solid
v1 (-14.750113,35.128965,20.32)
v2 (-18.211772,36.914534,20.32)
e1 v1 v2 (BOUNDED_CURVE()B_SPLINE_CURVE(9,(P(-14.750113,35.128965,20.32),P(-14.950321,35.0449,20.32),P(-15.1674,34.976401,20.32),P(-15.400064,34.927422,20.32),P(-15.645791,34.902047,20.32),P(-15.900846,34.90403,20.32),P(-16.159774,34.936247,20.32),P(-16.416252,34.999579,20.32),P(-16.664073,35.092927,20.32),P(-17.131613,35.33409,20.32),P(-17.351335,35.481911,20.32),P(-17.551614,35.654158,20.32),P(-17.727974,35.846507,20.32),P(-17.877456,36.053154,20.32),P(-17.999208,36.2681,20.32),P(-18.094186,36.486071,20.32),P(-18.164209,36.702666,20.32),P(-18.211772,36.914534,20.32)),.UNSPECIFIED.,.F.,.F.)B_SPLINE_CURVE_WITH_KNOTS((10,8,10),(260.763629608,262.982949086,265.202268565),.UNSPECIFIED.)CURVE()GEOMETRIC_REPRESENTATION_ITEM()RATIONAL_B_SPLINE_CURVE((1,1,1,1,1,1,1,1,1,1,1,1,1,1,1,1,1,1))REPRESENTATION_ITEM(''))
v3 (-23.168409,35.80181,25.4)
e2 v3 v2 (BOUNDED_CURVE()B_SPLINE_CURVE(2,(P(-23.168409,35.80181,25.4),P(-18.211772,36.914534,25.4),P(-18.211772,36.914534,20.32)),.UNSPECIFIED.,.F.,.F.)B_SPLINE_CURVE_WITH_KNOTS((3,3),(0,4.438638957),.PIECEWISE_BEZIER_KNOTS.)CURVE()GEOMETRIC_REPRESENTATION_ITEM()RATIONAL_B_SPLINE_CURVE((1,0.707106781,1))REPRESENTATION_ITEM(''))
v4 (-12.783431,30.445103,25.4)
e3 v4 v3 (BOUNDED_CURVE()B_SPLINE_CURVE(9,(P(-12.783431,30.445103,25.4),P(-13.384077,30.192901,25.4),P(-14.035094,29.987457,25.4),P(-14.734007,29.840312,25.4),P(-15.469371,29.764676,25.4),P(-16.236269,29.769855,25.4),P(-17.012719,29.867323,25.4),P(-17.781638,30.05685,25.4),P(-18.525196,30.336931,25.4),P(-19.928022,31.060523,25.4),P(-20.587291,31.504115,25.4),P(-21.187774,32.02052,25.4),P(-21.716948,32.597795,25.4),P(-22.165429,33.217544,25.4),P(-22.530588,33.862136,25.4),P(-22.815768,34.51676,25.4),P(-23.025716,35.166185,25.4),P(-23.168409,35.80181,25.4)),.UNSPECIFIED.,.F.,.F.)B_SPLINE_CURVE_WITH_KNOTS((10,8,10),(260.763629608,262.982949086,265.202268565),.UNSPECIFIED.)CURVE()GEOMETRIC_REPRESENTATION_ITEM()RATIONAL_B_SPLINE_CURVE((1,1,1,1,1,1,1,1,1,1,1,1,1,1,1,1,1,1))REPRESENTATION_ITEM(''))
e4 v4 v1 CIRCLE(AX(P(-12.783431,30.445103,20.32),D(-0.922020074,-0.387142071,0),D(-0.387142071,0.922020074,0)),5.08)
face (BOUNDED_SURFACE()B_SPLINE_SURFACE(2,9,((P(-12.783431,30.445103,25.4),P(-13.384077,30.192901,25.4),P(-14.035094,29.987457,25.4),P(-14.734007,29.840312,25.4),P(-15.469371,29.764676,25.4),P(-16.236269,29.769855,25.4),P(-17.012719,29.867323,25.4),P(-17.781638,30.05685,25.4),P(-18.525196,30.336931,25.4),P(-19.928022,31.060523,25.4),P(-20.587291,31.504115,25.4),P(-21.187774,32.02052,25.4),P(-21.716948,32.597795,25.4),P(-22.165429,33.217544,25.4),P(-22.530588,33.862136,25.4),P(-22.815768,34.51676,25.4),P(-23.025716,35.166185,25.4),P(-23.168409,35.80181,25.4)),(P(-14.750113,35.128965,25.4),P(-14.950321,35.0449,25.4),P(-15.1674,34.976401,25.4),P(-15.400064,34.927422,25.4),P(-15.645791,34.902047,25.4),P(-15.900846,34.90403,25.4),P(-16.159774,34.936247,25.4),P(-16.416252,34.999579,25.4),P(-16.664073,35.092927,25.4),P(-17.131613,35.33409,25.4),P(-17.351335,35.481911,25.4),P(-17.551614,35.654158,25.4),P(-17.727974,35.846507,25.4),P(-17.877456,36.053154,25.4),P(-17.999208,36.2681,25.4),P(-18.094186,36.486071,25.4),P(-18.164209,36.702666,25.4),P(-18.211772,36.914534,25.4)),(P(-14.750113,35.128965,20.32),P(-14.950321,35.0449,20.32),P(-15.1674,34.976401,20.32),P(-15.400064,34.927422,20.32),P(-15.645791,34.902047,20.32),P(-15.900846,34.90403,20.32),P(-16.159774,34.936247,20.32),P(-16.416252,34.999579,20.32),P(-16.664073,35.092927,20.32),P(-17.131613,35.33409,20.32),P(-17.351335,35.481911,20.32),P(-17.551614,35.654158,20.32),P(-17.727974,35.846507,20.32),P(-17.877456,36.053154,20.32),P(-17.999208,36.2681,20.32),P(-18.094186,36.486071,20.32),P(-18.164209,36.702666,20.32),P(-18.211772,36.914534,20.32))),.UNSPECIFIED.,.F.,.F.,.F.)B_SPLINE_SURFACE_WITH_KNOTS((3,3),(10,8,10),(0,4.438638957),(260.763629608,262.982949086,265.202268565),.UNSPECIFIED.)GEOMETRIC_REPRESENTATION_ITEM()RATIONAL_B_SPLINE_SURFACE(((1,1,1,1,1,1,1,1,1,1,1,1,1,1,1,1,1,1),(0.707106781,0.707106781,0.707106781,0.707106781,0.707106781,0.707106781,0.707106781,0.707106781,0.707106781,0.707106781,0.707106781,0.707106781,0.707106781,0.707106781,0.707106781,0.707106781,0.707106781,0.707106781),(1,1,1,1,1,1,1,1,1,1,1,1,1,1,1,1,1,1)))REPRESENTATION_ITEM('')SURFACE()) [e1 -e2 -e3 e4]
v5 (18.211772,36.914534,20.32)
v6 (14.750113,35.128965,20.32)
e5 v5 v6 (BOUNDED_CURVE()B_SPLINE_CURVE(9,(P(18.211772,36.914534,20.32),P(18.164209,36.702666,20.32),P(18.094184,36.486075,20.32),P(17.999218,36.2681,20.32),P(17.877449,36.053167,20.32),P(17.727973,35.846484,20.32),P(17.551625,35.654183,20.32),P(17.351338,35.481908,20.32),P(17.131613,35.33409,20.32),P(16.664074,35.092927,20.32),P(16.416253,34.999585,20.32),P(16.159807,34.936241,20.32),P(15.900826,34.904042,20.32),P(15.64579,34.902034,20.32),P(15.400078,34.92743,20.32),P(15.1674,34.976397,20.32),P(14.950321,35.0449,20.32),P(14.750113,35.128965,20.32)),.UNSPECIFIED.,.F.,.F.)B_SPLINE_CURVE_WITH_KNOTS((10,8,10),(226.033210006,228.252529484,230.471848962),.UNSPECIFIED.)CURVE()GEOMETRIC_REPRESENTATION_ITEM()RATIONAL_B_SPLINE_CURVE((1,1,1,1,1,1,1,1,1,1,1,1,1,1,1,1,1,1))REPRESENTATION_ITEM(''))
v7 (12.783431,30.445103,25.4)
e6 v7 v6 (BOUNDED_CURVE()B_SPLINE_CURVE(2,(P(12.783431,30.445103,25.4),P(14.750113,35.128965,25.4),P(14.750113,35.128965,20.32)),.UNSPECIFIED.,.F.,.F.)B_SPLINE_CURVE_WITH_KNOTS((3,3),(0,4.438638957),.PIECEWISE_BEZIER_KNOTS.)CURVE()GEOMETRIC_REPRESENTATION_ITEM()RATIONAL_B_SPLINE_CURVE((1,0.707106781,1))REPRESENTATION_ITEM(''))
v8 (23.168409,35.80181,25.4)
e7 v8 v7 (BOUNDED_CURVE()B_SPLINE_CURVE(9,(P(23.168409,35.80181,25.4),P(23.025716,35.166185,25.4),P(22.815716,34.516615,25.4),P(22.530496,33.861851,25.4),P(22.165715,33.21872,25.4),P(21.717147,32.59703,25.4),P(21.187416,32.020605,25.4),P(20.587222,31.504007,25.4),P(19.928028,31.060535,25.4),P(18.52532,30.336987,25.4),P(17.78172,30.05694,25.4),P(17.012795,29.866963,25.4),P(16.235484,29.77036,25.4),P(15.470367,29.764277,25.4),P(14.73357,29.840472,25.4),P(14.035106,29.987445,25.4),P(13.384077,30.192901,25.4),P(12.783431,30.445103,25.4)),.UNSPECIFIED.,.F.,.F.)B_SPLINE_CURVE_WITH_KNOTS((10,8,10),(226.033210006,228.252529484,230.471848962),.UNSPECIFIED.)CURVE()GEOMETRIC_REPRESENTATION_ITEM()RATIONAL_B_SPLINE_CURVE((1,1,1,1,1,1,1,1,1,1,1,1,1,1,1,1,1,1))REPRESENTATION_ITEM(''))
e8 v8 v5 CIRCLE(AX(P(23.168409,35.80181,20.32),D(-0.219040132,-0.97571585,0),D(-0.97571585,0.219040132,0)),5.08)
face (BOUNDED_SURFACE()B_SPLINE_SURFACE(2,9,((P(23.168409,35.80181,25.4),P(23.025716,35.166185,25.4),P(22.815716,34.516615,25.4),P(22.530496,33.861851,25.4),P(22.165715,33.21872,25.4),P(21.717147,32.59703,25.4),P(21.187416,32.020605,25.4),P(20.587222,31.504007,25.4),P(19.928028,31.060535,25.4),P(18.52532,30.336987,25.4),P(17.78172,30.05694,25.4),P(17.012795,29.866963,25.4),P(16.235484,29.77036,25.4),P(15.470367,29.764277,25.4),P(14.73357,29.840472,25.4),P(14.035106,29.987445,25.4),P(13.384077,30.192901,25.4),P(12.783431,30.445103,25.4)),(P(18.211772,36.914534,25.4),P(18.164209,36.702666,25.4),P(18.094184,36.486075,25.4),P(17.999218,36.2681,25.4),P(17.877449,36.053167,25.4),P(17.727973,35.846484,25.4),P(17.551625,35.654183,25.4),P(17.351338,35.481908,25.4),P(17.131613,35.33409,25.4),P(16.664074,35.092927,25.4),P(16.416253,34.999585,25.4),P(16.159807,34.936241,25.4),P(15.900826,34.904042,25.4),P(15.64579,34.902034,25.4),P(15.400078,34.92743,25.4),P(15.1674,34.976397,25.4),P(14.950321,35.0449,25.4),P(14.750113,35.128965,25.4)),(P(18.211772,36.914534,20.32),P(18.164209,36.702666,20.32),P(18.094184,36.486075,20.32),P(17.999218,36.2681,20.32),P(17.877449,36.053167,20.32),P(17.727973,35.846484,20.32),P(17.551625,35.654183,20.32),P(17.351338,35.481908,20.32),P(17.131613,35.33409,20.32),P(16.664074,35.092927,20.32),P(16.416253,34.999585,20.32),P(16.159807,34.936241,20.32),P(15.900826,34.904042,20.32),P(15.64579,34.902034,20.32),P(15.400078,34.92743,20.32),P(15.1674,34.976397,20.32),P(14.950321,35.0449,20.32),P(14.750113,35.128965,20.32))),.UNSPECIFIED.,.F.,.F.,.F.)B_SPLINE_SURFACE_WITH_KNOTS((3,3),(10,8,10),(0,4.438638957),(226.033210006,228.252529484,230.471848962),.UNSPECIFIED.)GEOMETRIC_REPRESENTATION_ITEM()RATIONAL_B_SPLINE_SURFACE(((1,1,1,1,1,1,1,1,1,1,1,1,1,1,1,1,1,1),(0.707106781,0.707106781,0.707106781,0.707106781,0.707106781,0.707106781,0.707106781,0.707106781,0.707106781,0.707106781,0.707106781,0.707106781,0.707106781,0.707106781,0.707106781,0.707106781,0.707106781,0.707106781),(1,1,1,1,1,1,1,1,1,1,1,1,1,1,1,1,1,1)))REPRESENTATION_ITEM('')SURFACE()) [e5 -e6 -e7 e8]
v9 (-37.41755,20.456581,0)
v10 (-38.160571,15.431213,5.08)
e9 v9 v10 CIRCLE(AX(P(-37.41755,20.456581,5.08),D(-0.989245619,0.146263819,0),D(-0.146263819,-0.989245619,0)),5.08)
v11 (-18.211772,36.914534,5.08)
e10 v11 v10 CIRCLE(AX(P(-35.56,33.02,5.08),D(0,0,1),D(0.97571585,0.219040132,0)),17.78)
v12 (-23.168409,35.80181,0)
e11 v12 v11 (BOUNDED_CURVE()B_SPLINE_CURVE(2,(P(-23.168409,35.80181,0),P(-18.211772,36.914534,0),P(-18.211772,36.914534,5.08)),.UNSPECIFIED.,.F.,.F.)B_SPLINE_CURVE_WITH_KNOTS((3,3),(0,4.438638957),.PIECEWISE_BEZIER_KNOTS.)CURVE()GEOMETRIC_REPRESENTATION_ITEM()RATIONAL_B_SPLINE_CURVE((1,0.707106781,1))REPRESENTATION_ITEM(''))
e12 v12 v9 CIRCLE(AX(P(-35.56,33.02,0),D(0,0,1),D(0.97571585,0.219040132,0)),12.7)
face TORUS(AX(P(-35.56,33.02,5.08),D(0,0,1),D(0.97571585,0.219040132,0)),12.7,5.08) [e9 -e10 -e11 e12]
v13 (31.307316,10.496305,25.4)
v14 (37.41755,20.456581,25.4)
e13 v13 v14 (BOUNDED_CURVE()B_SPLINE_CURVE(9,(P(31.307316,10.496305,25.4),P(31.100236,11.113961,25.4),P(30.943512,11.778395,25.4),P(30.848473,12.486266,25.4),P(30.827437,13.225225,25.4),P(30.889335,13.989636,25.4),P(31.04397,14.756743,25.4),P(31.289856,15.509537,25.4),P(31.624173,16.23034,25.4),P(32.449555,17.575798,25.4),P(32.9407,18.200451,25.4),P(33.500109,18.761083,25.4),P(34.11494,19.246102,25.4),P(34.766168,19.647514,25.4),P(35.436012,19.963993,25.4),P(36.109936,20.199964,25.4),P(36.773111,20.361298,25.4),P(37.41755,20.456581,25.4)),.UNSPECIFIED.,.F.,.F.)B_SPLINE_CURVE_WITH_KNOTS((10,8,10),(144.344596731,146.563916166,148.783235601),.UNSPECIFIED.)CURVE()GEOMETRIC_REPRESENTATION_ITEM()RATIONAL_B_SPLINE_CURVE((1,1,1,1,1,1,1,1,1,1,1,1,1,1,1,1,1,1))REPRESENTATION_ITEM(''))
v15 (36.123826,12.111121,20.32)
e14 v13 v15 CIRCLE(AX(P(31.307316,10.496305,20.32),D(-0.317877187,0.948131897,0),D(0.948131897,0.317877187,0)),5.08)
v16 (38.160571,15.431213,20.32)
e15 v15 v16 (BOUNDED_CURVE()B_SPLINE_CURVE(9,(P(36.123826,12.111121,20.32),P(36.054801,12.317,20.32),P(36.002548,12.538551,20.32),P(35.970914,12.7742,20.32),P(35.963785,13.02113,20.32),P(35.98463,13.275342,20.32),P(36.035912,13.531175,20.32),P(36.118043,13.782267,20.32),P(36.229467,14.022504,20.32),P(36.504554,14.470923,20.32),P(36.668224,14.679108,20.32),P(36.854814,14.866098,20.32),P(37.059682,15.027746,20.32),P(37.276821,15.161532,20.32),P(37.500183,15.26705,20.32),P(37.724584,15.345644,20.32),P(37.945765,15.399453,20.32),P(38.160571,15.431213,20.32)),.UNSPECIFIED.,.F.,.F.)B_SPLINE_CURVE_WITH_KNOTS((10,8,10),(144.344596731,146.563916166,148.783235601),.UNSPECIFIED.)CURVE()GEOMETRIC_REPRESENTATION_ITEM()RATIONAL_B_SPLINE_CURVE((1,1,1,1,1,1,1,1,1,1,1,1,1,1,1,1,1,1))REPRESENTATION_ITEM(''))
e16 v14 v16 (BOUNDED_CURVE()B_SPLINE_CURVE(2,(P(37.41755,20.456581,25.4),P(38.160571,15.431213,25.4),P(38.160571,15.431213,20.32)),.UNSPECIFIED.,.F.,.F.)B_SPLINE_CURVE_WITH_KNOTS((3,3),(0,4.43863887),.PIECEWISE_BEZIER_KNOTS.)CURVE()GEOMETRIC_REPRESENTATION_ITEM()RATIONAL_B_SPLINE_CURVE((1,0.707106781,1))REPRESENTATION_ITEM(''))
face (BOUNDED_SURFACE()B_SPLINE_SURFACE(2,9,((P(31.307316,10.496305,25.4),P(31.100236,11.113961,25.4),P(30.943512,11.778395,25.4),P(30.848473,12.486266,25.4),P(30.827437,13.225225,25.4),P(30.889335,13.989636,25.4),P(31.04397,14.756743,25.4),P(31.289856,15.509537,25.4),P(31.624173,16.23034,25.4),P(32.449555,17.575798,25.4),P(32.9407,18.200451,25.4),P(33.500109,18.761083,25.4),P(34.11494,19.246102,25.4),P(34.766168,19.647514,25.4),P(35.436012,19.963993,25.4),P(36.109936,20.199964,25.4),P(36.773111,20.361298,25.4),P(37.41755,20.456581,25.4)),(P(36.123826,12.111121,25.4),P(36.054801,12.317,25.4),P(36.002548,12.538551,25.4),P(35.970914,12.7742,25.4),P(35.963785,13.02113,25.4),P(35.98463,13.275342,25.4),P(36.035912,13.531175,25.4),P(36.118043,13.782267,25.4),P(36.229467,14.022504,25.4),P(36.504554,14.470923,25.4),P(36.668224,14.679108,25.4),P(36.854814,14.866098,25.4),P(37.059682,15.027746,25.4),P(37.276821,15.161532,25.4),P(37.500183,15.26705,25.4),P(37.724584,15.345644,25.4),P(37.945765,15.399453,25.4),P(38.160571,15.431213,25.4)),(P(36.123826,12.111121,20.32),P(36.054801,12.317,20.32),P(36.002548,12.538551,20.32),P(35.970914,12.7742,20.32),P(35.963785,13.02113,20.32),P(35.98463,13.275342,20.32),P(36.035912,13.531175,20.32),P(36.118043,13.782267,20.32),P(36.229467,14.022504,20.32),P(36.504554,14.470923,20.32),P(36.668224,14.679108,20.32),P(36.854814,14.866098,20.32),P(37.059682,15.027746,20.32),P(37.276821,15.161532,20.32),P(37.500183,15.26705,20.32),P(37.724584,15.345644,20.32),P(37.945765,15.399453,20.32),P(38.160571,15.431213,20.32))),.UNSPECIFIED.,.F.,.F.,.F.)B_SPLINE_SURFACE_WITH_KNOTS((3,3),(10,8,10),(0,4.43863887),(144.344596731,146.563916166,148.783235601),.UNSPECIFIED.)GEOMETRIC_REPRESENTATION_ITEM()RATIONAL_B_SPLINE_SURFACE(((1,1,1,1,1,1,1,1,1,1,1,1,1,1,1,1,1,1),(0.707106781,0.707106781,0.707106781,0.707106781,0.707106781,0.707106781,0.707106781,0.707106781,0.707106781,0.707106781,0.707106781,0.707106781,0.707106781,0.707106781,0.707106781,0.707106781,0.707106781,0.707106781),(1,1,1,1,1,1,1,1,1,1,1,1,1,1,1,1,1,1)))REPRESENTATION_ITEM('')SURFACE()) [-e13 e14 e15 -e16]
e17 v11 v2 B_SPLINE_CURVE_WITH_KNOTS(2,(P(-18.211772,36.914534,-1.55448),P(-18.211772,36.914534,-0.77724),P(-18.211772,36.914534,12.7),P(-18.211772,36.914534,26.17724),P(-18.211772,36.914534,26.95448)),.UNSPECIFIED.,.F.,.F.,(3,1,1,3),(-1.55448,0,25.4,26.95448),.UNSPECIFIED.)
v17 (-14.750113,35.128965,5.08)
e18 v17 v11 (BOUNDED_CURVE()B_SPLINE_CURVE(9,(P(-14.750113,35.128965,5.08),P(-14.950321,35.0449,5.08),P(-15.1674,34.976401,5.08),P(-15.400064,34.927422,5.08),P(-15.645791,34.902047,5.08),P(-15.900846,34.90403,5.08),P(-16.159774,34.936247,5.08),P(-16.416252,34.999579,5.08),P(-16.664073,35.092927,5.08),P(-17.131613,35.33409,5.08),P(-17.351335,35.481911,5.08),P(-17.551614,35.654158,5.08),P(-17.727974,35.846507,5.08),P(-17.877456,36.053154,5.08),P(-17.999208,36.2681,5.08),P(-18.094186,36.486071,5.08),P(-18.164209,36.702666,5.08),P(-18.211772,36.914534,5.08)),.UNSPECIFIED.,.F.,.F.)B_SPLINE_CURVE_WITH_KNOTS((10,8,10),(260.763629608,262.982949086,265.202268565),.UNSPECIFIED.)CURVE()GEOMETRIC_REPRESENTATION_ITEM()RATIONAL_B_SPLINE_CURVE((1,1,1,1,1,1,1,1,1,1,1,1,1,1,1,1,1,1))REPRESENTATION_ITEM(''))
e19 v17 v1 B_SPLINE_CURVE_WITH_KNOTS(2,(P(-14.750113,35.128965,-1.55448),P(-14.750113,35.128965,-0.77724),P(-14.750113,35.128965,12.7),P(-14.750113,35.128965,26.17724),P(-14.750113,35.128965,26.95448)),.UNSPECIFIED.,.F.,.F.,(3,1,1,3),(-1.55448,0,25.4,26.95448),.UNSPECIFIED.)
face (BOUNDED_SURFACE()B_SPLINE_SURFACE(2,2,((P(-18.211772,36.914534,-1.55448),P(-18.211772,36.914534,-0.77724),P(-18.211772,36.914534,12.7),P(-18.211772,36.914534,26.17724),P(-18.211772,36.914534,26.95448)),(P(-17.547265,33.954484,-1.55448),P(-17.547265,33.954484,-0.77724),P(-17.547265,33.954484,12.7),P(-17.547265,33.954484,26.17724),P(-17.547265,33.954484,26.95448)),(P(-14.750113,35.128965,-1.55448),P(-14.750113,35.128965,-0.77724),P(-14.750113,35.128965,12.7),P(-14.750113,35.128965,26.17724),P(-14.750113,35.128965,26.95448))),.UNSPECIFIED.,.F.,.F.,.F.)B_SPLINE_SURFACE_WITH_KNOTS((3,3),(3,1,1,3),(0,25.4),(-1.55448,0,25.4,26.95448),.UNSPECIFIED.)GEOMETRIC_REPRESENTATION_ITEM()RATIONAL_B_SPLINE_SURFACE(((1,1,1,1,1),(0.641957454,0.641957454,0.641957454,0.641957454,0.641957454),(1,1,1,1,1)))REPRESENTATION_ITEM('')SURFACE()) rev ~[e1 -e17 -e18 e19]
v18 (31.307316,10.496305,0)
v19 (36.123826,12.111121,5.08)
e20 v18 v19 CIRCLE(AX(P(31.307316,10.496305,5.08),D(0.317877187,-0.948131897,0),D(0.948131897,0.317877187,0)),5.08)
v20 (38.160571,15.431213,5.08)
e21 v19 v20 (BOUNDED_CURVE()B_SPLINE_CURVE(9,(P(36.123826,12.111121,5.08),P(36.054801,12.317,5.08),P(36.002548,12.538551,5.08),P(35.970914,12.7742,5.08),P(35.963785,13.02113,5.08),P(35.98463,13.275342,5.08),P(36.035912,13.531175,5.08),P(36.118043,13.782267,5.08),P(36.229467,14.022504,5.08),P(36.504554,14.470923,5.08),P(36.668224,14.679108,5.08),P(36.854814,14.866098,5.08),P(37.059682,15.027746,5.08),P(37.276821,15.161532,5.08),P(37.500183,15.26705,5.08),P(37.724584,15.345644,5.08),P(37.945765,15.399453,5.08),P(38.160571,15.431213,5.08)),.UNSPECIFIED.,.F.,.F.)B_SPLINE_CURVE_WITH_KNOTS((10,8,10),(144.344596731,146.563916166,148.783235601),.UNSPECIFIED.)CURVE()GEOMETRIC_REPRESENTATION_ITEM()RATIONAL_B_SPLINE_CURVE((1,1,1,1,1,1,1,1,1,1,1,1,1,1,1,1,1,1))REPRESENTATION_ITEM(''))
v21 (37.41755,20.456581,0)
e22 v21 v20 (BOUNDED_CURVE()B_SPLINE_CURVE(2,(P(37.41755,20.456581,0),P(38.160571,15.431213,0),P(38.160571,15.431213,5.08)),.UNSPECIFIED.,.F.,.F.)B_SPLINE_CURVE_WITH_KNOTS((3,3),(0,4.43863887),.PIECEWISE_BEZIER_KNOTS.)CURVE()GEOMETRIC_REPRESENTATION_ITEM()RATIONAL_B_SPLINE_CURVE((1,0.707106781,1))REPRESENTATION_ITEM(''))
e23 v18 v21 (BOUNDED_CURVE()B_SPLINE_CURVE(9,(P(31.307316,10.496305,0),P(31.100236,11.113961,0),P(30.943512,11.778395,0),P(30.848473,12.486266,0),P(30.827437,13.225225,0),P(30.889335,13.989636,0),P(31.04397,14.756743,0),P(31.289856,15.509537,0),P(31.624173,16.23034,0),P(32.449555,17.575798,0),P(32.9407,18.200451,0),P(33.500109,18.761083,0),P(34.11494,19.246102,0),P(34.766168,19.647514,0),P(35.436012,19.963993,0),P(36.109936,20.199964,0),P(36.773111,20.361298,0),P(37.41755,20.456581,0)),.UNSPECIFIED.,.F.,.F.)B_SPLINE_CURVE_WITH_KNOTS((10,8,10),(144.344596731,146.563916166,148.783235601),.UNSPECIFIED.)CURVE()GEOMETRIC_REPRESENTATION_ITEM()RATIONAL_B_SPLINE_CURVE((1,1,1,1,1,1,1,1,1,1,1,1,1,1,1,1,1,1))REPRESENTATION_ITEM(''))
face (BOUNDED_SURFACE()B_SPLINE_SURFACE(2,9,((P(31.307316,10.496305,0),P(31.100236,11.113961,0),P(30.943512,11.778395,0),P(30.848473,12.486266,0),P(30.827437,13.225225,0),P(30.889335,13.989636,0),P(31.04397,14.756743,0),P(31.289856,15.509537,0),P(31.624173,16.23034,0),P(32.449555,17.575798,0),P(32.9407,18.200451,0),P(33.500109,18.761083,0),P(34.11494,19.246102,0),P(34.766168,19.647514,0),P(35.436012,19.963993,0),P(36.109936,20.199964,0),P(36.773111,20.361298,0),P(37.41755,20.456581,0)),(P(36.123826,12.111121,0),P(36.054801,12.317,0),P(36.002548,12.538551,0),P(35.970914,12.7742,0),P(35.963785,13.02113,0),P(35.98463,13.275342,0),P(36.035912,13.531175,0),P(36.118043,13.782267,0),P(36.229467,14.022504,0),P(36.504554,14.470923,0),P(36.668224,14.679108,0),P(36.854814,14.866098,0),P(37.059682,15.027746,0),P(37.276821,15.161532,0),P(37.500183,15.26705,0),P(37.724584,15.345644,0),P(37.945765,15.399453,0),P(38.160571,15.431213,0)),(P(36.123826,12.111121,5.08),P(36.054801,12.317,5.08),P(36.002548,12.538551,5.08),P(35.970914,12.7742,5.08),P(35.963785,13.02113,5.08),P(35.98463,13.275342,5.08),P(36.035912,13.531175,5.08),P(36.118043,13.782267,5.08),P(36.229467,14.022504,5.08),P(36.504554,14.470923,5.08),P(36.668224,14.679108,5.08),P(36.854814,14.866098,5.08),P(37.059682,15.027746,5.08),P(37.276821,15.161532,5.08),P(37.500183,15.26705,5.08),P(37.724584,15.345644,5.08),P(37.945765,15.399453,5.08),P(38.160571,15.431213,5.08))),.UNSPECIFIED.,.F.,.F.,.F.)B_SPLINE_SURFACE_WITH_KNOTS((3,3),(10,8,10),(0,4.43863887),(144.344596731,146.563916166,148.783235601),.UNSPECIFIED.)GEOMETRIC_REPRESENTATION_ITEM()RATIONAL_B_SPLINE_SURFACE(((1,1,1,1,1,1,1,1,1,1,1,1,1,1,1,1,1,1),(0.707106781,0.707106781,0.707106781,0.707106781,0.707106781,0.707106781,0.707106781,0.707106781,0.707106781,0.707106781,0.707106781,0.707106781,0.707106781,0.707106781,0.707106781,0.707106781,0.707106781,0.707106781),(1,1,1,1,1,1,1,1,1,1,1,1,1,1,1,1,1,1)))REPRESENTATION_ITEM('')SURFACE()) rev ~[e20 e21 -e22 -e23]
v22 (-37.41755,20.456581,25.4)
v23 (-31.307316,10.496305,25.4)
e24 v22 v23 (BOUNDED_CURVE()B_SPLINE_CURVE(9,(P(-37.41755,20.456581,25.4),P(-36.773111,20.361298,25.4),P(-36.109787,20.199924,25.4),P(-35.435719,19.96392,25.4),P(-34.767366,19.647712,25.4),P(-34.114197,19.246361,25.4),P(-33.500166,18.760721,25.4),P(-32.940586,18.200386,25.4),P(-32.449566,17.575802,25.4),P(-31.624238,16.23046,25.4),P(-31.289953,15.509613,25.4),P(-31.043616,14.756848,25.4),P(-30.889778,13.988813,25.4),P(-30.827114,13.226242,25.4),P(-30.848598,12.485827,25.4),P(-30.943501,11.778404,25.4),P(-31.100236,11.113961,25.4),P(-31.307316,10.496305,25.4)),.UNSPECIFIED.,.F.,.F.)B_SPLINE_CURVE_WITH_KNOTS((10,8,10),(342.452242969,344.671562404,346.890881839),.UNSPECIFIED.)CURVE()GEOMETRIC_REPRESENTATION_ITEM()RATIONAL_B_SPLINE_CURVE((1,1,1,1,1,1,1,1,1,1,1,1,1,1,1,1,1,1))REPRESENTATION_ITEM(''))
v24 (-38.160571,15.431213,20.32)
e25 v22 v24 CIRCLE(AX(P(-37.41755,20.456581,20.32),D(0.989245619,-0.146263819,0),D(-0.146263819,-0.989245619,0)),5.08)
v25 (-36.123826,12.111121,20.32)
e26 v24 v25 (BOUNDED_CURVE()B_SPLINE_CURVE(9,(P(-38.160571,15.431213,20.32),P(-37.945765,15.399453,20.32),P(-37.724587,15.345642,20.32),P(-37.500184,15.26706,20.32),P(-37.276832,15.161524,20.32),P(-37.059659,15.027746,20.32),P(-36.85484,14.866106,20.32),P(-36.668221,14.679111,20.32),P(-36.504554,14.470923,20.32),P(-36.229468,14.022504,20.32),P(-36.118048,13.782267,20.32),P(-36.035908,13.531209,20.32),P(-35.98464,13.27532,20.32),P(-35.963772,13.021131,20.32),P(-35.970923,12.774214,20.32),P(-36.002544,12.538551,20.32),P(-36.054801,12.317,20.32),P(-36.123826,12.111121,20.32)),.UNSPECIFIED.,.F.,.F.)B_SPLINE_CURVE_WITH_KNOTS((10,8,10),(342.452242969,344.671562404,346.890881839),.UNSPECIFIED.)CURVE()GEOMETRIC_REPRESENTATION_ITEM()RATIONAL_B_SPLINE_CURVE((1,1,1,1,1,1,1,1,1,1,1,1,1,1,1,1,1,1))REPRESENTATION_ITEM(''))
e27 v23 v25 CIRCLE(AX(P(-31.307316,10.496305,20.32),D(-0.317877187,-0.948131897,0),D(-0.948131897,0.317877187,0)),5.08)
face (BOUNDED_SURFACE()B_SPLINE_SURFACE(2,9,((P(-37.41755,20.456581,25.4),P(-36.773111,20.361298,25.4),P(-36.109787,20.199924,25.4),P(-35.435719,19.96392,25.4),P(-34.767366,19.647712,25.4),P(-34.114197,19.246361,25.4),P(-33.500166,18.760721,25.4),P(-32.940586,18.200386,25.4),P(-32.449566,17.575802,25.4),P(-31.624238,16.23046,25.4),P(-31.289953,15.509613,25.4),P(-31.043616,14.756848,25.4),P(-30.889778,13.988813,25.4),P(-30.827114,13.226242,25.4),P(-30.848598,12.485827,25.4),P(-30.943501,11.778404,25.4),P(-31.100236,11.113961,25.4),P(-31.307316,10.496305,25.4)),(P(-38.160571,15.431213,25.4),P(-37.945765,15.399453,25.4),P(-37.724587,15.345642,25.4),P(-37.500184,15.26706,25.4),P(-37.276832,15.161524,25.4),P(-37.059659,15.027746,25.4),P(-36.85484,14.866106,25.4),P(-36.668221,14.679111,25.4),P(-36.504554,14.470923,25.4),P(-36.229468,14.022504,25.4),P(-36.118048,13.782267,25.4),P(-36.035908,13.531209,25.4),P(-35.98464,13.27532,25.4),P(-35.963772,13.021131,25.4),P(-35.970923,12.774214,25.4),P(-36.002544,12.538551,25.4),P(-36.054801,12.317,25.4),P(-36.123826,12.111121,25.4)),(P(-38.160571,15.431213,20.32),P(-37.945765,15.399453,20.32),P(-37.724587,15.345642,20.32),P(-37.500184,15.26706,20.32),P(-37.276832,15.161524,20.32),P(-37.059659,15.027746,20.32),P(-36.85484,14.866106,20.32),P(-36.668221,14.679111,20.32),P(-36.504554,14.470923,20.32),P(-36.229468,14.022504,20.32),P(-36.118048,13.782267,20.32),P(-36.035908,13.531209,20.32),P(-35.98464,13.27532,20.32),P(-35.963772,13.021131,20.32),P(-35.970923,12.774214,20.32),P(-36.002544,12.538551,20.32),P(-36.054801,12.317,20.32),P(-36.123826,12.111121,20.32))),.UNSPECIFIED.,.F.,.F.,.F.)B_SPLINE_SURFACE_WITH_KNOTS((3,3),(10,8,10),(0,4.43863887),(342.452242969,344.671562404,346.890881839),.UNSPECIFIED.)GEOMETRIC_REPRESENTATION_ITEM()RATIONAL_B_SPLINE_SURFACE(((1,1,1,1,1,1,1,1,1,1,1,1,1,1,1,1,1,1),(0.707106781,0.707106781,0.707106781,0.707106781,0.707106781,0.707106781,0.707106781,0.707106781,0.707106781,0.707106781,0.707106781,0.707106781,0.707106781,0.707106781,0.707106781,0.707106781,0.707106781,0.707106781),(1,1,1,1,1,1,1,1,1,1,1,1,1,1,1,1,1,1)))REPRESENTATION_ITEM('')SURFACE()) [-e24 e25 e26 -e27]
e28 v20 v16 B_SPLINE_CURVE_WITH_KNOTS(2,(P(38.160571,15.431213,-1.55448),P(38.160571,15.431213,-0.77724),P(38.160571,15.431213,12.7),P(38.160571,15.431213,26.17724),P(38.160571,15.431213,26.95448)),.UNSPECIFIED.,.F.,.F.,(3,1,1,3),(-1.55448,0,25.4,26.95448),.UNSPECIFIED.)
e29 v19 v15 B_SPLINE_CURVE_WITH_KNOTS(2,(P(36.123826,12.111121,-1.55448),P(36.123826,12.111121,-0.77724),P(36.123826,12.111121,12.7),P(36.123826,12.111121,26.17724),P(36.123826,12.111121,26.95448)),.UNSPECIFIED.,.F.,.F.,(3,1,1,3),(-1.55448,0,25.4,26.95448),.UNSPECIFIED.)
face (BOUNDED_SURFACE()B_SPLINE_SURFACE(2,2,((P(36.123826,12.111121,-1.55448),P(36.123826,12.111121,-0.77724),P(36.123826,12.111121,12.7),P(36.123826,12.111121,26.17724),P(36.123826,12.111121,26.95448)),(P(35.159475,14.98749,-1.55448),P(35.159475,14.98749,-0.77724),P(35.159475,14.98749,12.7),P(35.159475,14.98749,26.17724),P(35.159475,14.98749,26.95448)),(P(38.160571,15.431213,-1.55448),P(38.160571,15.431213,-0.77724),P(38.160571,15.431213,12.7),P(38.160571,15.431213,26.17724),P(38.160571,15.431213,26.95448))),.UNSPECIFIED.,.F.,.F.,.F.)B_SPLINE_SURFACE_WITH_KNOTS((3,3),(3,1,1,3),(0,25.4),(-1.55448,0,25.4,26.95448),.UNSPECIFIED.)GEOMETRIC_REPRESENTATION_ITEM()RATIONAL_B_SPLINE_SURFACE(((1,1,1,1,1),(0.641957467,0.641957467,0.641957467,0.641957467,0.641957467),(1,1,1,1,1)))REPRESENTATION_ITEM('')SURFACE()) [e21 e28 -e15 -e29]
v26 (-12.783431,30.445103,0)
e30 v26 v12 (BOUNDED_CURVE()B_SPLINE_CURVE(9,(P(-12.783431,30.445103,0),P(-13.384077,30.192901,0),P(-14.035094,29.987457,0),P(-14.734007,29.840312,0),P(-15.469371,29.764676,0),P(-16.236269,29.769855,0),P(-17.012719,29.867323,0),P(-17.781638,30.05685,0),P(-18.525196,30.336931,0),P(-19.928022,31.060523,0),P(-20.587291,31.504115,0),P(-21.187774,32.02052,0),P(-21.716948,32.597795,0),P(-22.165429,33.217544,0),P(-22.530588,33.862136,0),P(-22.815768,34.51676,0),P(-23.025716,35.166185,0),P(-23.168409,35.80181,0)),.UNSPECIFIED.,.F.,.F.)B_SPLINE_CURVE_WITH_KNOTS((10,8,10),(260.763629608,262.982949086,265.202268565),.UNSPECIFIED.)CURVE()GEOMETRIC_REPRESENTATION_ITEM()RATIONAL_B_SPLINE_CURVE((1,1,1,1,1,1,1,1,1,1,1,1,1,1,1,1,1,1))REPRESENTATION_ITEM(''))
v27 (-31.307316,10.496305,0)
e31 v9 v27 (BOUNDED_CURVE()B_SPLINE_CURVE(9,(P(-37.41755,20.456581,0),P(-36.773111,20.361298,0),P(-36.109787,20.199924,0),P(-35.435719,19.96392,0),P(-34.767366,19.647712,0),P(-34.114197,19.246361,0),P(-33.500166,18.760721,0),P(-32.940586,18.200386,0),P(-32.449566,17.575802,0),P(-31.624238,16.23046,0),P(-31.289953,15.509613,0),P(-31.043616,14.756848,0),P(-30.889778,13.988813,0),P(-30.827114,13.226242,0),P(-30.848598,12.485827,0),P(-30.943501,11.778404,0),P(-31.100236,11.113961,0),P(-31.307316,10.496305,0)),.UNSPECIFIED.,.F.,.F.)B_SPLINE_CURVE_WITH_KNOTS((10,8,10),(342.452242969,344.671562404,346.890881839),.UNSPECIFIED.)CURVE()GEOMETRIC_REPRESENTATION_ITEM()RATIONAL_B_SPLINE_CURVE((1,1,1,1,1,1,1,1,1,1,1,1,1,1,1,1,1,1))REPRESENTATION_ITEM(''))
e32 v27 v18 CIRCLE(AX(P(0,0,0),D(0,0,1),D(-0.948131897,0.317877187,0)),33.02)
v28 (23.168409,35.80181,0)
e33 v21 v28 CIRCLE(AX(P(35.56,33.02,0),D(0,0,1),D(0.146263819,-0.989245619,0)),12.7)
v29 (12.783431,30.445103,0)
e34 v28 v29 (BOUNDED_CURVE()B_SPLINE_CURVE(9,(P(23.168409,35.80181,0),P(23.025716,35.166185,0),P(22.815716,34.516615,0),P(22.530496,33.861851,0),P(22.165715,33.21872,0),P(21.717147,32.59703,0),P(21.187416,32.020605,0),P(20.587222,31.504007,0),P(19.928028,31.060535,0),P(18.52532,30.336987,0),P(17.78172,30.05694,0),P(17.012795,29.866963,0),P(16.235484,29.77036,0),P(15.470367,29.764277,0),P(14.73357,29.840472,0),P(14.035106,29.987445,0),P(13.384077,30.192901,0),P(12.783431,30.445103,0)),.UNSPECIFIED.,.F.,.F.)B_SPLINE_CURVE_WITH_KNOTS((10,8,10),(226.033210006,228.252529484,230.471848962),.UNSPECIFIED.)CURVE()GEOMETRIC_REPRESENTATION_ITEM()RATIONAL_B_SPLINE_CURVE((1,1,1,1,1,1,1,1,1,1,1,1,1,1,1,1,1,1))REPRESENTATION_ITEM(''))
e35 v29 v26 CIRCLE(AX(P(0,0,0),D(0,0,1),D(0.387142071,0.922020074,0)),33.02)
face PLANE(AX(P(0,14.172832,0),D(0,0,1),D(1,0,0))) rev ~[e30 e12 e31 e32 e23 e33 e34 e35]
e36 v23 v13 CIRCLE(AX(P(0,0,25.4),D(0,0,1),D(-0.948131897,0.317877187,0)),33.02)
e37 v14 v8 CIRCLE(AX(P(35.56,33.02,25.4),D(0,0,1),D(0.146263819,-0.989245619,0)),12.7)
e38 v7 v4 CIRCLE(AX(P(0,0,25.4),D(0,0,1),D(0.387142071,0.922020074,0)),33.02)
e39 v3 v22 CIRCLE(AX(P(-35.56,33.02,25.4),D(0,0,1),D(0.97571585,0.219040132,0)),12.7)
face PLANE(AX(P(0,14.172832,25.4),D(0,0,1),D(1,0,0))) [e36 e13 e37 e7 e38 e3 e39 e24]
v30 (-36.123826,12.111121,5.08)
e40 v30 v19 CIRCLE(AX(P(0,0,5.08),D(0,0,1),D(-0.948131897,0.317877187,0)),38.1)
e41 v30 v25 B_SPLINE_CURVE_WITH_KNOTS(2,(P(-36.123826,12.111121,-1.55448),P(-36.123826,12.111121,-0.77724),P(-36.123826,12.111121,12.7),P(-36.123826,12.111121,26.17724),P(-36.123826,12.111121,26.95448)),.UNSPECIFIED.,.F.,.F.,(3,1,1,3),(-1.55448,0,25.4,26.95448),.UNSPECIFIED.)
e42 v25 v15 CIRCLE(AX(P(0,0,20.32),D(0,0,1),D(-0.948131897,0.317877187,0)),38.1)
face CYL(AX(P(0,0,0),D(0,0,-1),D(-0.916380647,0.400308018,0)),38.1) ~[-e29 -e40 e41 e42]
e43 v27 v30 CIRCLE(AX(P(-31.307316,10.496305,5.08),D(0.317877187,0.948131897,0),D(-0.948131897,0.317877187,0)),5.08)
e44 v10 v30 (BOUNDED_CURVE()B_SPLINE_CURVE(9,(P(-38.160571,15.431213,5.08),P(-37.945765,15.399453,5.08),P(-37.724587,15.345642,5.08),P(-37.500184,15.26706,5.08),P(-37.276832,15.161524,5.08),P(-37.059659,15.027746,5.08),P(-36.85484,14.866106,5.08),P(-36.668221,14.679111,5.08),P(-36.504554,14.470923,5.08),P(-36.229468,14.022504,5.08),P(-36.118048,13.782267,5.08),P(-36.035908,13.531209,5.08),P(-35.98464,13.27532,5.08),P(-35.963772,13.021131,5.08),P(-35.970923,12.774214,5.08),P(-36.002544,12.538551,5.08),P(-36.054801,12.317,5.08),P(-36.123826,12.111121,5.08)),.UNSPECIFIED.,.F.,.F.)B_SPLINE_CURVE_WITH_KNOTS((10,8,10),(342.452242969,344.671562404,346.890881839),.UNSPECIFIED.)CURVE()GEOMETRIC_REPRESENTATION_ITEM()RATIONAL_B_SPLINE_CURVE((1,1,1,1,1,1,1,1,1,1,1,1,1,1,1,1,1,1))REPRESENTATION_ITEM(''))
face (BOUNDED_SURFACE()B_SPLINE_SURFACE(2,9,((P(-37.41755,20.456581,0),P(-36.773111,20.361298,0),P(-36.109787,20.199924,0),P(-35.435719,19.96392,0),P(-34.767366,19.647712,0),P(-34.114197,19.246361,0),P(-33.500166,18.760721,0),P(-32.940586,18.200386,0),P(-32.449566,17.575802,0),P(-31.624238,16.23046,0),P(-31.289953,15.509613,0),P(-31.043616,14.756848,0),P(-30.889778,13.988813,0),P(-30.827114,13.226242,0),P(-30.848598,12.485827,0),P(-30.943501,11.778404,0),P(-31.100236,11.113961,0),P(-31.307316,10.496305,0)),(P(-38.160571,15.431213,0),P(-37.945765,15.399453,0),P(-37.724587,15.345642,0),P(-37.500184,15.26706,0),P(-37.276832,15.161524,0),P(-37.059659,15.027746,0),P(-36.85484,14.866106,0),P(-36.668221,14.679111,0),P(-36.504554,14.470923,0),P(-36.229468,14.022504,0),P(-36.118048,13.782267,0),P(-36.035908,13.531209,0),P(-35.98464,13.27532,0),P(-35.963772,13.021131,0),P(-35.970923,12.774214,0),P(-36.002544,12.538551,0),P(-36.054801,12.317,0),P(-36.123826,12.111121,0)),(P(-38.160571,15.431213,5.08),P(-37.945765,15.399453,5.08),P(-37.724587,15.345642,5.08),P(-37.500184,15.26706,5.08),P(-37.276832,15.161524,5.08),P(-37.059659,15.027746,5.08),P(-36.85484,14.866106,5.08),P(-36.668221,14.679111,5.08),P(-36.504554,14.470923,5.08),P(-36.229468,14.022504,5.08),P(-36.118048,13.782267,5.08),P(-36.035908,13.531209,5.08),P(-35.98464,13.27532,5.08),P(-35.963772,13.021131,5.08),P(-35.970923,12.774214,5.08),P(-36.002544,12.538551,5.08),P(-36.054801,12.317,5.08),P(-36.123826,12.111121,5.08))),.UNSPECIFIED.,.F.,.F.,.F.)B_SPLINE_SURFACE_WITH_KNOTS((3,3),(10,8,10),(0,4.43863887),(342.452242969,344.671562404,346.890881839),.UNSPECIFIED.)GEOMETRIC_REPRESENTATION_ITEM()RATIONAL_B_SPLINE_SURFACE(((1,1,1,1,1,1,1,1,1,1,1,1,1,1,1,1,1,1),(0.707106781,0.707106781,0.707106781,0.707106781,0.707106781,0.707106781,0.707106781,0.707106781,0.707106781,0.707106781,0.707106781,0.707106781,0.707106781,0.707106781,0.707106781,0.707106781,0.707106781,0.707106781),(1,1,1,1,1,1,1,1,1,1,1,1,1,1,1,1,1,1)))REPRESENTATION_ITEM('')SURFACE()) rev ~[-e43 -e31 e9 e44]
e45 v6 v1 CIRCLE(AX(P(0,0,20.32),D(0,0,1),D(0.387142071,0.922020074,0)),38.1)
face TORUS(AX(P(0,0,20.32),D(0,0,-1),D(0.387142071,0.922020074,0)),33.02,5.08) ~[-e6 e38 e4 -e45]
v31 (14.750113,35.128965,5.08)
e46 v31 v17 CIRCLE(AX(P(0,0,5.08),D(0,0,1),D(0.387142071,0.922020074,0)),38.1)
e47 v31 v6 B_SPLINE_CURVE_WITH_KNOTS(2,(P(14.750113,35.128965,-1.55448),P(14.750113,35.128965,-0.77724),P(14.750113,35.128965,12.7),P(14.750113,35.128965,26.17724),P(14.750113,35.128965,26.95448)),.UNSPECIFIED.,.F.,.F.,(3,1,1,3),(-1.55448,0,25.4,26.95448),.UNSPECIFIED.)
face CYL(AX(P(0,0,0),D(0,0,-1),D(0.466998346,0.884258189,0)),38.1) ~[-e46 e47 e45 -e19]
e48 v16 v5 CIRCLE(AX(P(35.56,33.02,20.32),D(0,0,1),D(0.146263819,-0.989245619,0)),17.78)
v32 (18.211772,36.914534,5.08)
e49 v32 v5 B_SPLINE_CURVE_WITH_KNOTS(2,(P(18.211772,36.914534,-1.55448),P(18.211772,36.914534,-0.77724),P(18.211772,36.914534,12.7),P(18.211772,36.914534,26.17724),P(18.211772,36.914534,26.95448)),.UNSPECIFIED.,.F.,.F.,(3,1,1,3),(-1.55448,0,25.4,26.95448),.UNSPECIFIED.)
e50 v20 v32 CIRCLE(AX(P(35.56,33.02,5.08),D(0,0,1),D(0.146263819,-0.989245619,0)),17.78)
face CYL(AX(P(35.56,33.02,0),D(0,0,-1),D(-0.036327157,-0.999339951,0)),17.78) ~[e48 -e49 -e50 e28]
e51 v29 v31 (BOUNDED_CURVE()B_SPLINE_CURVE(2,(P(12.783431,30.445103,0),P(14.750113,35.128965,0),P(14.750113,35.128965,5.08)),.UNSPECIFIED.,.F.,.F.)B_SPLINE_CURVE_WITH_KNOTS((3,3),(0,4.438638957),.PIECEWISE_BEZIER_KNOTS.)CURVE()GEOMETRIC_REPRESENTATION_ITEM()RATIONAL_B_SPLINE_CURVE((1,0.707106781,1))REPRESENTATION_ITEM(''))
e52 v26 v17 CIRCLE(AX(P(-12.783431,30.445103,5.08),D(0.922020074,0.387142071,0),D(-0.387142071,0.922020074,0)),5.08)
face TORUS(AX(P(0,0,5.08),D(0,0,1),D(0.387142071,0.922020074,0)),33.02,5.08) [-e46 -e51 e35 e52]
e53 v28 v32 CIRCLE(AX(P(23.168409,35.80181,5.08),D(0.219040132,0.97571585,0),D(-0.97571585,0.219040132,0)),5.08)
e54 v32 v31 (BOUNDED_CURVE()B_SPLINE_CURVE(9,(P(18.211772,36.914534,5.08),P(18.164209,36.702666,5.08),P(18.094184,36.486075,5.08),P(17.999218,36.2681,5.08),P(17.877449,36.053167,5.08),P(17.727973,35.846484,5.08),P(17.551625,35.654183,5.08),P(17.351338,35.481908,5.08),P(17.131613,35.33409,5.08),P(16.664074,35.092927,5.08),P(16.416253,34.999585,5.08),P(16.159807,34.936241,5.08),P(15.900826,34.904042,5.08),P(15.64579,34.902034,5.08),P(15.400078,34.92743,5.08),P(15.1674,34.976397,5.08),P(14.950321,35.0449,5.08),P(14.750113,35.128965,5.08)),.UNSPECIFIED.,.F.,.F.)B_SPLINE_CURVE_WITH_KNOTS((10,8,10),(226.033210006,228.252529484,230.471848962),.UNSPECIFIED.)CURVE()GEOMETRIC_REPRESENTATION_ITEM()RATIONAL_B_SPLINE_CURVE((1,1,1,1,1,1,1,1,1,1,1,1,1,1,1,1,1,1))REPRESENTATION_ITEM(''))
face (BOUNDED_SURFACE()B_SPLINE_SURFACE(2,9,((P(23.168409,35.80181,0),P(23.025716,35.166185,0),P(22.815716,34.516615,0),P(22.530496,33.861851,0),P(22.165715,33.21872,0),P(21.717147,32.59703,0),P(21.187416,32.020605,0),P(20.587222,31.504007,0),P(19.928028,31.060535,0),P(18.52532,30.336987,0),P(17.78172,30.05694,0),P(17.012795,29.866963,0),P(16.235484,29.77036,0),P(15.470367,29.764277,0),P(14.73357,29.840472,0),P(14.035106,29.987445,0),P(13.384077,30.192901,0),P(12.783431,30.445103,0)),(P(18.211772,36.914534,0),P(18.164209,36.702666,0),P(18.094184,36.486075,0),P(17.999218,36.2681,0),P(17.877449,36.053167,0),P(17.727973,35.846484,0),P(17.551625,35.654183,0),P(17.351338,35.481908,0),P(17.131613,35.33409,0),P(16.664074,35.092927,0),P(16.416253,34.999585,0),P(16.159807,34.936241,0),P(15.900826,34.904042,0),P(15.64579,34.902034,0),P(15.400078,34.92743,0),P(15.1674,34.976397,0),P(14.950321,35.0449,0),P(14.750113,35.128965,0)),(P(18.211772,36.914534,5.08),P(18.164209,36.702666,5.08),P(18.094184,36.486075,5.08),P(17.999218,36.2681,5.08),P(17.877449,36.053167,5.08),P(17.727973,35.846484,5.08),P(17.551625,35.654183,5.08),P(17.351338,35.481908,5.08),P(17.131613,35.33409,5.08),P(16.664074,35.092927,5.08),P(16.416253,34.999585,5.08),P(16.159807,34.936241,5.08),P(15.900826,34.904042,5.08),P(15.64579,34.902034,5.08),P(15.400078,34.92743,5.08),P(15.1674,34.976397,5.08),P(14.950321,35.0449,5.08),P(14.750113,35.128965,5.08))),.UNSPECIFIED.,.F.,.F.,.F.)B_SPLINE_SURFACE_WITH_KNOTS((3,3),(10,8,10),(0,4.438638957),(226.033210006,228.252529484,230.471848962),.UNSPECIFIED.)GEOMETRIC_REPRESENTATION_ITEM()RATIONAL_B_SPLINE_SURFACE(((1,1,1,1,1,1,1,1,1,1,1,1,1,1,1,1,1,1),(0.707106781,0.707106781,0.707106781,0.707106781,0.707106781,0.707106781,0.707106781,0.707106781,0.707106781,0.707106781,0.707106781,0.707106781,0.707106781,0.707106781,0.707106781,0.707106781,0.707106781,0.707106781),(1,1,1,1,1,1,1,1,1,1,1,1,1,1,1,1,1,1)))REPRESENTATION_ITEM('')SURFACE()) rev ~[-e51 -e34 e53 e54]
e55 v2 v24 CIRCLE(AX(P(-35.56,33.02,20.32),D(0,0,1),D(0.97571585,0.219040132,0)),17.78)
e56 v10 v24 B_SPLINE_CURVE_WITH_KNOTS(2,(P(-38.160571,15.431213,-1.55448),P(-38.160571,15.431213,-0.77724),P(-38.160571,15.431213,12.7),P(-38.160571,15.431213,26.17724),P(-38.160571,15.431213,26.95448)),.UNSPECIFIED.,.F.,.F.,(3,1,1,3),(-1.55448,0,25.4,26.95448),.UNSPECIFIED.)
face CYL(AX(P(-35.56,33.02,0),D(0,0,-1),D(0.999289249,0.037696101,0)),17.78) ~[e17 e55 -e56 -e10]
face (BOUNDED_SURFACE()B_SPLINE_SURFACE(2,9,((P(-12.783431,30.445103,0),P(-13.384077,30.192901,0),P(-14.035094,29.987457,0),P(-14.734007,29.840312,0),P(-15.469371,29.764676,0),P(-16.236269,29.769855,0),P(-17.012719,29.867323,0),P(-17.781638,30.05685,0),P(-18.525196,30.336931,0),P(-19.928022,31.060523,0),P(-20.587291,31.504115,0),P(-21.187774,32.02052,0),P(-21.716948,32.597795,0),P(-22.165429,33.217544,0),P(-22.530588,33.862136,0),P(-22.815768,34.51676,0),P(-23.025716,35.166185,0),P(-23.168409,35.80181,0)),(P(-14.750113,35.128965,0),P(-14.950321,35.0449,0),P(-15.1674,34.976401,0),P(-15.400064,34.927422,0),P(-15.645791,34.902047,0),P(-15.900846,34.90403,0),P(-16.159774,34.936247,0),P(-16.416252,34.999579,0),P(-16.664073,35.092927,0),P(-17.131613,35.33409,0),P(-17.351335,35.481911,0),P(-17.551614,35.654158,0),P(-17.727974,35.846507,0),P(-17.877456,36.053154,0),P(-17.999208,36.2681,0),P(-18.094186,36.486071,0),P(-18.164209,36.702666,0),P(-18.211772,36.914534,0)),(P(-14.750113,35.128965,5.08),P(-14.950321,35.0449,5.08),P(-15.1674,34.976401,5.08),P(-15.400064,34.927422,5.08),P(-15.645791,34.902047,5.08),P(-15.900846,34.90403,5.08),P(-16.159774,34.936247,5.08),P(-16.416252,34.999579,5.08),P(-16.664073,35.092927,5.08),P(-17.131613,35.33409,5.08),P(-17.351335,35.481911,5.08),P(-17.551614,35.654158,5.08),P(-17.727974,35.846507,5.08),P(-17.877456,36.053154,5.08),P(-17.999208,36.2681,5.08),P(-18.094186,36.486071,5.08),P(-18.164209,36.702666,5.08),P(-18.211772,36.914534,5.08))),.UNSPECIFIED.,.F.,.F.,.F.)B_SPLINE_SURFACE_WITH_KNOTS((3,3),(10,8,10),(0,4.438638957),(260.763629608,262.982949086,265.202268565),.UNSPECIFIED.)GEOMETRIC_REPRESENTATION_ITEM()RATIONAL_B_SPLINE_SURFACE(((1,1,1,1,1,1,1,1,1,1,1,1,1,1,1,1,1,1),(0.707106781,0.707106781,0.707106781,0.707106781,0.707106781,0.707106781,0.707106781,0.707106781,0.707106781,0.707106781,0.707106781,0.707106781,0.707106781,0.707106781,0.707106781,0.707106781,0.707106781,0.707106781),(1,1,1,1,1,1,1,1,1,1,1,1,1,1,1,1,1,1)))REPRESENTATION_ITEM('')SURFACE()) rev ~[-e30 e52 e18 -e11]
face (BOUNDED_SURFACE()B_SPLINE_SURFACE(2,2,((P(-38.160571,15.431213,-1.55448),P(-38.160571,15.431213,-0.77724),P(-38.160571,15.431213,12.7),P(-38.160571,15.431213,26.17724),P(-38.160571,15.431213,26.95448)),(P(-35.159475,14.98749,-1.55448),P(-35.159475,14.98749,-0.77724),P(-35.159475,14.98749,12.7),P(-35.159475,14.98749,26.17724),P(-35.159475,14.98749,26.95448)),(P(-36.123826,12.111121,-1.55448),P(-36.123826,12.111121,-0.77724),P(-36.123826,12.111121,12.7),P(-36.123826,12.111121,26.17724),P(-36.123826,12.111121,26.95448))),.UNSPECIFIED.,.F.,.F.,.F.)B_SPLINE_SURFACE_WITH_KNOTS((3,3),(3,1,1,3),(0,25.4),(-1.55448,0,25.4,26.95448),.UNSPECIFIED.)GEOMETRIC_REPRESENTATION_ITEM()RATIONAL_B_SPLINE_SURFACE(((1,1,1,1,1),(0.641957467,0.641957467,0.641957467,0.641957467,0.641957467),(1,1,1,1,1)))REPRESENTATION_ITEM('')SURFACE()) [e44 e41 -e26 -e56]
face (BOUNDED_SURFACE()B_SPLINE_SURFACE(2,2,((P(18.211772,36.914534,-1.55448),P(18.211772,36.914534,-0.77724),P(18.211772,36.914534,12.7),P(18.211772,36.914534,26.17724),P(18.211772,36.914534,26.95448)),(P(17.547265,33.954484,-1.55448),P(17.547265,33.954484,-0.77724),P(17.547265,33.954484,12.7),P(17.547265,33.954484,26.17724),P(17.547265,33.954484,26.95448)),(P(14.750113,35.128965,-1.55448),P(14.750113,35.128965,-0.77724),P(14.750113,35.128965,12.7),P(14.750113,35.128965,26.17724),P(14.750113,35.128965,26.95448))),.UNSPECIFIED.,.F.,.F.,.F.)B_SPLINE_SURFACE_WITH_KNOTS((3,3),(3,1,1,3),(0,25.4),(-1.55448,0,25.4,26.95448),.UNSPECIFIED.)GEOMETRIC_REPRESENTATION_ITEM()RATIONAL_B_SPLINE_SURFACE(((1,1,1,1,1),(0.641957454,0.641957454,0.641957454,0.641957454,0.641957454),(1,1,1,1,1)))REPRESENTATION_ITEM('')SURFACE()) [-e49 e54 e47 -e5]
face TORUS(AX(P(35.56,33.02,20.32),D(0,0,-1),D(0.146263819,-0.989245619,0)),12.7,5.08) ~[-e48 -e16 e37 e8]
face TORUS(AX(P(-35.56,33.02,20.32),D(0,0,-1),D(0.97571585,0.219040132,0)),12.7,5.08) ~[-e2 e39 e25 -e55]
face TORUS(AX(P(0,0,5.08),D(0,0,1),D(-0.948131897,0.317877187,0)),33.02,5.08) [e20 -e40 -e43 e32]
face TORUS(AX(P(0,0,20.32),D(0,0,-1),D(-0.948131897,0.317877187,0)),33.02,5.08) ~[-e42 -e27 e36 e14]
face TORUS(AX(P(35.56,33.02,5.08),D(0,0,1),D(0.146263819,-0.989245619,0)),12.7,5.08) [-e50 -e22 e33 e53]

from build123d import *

# Parameters (mm, degrees)
F1_DEPTH = 25.4
F2_R     = 2.54
F3_R     = 5.08


with BuildPart() as f1:
    # F0 (on Top) → F1 (new body)
    with BuildSketch(Plane.XY):
        with BuildLine():
            ThreePointArc((-17.792637, 33.690237), (-48.589068, 45.118421), (-34.914103, 15.251736))
            ThreePointArc((-34.914103, 15.251736), (0, -38.1), (34.914103, 15.251736))
            ThreePointArc((34.914103, 15.251736), (48.589068, 45.118421), (17.792637, 33.690237))
            ThreePointArc((17.792637, 33.690237), (0, 38.1), (-17.792637, 33.690237))
        make_face()
    extrude(amount=F1_DEPTH)

    # F2
    f2_edges = [f1.edges().sort_by_distance(p)[0] for p in [
        (-34.914103, 15.251736, 12.7),
        (-17.792637, 33.690237, 12.7),
        (17.792637, 33.690237, 12.7),
        (34.914103, 15.251736, 12.7),
    ]]
    fillet(f2_edges, radius=F2_R)

    # F3
    f3_edges = [f1.edges().sort_by_distance(p)[0] for p in [
        (0, -38.1, 25.4),
        (0, -38.1, 0),
    ]]
    fillet(f3_edges, radius=F3_R)


solid = f1.part
